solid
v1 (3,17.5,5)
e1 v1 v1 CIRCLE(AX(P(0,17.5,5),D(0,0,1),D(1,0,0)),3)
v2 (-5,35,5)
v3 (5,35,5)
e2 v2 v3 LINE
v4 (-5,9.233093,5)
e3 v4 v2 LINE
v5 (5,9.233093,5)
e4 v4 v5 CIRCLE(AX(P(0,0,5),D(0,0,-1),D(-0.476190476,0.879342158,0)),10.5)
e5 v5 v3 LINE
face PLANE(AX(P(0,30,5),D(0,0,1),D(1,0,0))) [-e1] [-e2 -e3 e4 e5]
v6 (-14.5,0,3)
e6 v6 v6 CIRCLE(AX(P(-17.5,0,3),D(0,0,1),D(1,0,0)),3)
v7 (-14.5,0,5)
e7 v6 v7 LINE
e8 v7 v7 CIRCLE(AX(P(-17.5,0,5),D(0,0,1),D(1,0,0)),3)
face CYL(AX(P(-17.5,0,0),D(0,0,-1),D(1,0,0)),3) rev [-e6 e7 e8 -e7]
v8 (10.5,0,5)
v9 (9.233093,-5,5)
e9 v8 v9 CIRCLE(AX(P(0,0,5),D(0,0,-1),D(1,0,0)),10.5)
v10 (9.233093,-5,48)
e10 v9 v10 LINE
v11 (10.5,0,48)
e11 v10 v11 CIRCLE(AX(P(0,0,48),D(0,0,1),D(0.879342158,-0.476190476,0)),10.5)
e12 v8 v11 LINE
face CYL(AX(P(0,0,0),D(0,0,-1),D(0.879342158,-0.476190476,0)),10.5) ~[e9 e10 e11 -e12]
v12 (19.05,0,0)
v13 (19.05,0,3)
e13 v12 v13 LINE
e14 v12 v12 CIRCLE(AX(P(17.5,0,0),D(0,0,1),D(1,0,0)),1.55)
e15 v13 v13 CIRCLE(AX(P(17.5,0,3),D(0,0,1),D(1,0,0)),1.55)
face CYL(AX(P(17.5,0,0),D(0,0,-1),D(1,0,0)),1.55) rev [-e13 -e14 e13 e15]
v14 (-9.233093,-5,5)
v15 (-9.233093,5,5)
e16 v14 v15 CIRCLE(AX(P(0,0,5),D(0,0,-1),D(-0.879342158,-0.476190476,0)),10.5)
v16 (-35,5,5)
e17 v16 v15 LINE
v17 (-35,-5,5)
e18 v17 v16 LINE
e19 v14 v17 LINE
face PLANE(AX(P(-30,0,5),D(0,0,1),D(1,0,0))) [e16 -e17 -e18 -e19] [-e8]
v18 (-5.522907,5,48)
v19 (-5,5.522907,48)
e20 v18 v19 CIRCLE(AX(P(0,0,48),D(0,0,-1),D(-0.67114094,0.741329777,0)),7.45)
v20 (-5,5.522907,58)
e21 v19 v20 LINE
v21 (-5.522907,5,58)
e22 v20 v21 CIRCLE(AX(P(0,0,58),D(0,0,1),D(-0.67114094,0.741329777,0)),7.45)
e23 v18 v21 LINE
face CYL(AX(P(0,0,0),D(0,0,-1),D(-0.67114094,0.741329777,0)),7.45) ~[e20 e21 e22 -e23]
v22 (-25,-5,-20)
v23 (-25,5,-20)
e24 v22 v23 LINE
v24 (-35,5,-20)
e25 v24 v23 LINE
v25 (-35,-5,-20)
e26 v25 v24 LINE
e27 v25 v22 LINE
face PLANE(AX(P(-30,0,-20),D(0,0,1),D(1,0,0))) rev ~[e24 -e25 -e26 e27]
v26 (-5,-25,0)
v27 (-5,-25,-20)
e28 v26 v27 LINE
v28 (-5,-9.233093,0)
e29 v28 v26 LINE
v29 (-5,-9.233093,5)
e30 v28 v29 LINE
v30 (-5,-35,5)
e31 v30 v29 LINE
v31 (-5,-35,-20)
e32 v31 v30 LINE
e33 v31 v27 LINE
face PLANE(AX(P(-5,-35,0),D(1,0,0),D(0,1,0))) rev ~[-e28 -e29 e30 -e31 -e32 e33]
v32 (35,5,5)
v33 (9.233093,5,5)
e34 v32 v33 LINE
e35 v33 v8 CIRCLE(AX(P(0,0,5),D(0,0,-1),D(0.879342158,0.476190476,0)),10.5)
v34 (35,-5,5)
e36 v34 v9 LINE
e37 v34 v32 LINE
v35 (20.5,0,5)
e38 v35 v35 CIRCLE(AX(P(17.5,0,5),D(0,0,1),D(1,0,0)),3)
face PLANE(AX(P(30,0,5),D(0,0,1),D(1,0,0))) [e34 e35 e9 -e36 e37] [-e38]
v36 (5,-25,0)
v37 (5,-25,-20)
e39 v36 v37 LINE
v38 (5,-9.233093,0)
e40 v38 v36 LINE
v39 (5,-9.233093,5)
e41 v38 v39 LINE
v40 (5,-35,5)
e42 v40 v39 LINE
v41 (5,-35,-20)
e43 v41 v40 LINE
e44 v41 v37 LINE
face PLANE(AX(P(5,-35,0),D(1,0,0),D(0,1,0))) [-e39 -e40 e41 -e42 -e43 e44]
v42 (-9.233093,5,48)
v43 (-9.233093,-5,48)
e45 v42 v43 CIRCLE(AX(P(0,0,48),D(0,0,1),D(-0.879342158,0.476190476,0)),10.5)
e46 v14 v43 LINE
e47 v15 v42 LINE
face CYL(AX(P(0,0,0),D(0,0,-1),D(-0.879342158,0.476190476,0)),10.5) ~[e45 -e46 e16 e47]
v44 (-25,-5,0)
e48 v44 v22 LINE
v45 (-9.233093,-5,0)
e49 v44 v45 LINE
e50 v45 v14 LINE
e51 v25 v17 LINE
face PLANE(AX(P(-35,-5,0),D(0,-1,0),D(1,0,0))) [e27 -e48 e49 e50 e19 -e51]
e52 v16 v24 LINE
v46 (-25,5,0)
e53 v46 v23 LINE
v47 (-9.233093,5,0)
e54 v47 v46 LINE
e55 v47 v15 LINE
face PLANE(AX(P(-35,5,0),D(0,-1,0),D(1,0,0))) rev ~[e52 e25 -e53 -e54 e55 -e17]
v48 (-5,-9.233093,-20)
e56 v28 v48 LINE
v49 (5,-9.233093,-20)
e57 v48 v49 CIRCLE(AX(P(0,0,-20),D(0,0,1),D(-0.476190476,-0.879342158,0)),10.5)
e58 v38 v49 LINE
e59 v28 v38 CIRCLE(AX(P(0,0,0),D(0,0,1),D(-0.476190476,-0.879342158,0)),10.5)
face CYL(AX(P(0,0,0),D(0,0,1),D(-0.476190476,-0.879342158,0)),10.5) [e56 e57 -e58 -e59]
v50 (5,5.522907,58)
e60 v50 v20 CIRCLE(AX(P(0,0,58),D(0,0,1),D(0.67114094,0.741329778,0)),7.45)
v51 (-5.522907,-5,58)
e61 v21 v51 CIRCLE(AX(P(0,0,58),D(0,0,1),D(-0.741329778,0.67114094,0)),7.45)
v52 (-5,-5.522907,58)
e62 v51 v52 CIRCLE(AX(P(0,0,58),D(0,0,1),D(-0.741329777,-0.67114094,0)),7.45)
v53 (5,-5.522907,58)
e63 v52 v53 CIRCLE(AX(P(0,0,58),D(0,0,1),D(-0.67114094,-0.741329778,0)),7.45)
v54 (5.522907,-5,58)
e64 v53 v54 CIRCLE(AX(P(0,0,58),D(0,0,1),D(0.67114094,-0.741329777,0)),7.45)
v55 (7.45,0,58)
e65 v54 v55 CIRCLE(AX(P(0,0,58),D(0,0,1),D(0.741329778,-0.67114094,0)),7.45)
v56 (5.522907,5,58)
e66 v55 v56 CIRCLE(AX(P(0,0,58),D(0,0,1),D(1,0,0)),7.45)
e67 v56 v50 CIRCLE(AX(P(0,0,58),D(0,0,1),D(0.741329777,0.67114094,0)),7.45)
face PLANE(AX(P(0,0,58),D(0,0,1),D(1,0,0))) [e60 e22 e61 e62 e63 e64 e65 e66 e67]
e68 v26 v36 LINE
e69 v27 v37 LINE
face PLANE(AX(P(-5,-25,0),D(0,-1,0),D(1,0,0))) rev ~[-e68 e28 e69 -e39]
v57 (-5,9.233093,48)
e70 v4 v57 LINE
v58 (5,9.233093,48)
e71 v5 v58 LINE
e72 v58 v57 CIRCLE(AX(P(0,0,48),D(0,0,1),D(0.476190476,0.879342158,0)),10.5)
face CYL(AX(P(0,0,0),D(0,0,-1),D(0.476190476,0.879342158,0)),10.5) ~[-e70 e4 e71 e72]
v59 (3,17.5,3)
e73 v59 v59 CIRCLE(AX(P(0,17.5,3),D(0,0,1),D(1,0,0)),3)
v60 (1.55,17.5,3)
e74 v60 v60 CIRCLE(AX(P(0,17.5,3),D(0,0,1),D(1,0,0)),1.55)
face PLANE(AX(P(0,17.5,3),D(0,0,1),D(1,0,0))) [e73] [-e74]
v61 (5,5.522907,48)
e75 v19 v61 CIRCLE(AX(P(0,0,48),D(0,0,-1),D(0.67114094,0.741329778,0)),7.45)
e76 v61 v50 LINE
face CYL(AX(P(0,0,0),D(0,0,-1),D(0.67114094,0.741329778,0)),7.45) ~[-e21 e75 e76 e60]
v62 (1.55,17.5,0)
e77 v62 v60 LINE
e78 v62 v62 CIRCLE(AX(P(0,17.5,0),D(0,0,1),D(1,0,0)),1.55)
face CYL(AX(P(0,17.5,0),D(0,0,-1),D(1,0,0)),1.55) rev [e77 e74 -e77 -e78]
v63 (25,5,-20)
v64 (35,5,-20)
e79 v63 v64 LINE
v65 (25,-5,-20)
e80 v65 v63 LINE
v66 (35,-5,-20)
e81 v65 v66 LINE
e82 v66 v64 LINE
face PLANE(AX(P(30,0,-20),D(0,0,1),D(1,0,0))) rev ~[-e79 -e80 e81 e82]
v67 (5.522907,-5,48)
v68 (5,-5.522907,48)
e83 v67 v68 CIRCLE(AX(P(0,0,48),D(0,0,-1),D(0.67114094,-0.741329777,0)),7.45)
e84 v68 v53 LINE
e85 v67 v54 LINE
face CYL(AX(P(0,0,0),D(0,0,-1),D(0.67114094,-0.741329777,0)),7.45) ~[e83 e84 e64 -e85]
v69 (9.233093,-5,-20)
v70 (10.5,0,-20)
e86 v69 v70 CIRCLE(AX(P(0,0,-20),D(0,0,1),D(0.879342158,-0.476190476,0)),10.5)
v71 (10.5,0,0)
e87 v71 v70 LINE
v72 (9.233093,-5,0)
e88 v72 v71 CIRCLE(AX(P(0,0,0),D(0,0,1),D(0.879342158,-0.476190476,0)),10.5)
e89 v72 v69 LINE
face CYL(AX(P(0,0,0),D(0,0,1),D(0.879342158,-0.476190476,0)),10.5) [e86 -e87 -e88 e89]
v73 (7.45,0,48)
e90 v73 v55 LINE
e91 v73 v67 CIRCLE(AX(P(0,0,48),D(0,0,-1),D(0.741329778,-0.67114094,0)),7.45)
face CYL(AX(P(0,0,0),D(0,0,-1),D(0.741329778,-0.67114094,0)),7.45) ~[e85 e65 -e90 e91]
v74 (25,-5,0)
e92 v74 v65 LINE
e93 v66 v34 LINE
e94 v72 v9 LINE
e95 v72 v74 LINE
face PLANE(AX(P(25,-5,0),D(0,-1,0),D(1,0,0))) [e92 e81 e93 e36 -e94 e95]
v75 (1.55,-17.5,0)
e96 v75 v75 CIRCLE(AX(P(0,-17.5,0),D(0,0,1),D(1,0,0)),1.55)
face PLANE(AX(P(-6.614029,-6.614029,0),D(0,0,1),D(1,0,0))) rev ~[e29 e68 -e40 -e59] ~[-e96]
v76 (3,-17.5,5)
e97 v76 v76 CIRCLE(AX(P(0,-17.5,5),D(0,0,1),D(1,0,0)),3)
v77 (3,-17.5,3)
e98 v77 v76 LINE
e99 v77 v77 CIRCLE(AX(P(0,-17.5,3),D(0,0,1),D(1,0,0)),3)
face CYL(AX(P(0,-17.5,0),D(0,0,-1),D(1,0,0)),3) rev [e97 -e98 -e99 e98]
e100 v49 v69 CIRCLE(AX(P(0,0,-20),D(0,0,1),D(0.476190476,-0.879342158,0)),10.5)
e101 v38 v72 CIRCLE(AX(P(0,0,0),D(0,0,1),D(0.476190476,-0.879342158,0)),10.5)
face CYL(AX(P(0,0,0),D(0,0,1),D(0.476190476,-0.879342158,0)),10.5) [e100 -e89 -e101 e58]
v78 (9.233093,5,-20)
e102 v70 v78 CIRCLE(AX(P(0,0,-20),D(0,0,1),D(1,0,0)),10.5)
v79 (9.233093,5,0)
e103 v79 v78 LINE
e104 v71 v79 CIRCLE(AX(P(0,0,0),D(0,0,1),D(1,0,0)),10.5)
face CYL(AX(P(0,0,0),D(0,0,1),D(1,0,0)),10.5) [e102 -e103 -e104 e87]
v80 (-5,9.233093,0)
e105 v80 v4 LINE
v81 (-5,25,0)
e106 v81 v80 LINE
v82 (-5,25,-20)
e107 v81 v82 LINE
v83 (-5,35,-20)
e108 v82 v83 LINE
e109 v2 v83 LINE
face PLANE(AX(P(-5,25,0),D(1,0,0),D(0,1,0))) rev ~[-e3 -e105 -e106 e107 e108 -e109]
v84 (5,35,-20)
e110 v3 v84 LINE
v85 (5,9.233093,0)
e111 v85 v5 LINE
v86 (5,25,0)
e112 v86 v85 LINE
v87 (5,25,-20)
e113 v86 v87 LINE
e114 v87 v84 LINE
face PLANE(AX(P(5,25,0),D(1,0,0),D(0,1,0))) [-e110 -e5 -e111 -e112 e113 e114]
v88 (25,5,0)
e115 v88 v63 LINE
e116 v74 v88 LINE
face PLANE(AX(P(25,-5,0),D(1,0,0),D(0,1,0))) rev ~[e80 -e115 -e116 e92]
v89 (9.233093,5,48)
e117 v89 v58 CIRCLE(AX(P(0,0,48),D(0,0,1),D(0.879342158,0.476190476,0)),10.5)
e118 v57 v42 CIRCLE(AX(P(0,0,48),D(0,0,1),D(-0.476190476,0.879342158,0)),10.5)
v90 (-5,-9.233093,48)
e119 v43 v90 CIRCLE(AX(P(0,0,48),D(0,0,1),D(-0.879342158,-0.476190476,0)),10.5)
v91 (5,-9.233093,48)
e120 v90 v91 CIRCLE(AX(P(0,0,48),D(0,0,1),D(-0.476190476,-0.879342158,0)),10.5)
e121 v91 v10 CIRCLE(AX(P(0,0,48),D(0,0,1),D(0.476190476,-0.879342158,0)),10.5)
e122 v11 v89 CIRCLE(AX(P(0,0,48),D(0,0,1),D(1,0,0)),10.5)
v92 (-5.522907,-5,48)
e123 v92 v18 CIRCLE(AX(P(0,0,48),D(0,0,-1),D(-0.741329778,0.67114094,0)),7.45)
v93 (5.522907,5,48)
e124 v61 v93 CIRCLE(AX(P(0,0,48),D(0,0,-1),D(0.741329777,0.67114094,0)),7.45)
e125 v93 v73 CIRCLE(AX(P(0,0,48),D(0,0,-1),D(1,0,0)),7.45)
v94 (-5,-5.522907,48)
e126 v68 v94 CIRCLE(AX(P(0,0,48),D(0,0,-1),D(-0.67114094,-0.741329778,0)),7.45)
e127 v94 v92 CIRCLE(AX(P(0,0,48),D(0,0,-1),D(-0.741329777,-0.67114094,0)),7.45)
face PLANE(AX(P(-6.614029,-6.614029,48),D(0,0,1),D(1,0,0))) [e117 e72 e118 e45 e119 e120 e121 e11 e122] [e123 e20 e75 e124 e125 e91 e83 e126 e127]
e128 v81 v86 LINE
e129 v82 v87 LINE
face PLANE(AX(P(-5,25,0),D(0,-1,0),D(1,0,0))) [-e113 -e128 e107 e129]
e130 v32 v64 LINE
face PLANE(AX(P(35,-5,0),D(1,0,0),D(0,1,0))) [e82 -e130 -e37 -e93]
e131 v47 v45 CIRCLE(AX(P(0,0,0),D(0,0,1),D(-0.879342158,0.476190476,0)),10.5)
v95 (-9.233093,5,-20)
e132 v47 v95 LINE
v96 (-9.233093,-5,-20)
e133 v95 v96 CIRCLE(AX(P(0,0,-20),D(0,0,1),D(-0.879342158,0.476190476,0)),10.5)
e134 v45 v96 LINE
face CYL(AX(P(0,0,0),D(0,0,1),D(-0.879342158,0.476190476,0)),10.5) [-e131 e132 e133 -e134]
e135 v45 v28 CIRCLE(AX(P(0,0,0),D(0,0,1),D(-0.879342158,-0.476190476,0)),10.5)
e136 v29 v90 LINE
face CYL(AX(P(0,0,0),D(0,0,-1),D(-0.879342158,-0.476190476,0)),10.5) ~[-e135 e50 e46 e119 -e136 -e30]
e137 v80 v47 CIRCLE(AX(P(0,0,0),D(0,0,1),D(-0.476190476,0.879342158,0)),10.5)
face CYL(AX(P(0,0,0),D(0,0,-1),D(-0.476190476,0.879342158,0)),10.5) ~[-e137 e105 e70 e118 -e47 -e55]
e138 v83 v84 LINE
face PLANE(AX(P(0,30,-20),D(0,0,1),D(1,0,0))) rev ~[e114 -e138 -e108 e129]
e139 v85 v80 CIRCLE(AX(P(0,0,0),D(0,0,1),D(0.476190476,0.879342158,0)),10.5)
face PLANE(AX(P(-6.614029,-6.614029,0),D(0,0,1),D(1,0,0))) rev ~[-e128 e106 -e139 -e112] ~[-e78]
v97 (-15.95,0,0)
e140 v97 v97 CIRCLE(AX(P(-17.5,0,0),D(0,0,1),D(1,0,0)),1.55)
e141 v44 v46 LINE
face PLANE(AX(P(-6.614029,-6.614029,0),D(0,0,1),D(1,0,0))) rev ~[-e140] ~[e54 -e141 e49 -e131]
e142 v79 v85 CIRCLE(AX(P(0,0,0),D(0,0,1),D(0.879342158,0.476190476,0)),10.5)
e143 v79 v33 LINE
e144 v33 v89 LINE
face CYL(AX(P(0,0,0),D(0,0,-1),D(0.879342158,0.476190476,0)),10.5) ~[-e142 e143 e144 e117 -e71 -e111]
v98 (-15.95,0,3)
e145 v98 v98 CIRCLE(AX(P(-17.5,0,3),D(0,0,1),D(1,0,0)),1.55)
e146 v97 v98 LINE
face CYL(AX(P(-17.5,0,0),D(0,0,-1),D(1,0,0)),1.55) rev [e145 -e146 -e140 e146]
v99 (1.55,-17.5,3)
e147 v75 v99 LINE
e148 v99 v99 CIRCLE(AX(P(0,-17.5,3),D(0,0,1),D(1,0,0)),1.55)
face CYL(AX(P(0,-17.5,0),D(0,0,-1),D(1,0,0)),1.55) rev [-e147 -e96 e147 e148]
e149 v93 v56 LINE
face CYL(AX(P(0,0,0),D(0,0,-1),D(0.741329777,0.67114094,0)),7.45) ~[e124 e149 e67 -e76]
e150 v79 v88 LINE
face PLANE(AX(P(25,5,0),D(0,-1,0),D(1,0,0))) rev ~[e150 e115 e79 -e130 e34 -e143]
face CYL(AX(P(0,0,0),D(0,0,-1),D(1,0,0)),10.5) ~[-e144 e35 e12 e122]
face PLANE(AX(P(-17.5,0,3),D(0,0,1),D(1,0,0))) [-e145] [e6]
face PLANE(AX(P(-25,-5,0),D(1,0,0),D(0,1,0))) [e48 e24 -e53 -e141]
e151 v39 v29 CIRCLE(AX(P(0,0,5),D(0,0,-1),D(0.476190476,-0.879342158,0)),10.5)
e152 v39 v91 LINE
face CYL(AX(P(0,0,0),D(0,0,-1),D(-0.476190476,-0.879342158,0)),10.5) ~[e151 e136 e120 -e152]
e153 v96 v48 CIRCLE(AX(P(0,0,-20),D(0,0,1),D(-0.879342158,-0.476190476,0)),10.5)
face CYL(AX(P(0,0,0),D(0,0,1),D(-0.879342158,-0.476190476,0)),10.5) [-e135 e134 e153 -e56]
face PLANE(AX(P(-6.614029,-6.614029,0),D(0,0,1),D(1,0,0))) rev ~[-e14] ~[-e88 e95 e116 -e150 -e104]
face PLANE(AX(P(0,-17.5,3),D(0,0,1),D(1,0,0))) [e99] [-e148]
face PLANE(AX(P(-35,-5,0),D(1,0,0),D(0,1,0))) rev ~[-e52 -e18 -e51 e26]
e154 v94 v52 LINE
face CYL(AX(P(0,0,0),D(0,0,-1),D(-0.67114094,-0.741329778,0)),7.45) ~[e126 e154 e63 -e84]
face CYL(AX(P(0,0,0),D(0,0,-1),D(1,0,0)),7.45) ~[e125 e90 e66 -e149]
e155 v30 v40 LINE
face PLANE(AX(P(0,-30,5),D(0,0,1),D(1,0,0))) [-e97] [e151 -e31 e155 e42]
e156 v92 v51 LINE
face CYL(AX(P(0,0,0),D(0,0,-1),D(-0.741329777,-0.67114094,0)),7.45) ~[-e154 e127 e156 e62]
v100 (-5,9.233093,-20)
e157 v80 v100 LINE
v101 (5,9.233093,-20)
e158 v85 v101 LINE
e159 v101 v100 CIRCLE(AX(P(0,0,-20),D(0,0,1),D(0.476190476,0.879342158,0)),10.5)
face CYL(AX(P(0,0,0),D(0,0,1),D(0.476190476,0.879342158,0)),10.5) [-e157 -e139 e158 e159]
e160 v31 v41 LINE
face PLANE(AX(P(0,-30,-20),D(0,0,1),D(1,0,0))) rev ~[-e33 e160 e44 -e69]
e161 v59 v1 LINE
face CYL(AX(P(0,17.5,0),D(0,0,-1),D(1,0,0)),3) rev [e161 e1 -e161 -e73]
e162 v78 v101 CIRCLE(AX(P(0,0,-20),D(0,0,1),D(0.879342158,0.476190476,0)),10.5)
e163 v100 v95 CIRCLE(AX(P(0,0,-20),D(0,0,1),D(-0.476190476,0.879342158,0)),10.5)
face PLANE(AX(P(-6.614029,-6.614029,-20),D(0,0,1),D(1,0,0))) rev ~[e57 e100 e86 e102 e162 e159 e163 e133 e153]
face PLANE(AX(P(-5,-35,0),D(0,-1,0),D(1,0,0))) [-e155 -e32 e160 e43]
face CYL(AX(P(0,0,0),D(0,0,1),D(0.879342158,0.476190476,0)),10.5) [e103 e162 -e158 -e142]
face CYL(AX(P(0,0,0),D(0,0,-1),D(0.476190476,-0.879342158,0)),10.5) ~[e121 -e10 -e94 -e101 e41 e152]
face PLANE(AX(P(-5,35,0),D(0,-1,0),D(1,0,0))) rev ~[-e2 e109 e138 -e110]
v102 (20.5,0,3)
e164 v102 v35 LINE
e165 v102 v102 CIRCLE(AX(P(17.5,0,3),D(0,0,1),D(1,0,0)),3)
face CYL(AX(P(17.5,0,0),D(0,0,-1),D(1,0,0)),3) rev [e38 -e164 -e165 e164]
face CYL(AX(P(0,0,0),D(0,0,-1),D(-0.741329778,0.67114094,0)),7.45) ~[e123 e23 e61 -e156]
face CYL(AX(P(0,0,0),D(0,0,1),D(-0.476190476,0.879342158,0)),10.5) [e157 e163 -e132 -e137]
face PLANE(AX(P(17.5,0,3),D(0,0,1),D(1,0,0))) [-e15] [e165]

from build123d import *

# Parameters (mm, degrees)
F0_R          = 3
F1_DEPTH      = 5
F0_R_2        = 1.55
F2_DEPTH      = 3
F0_W          = 10
F0_H          = 10
F3_DEPTH      = 5
F3_DEPTH_BACK = 20
F4_DEPTH      = 48
F4_DEPTH_BACK = 20
F5_DEPTH      = 58


with BuildPart() as f1:
    # F0 (on Top) → F1 (new body)
    with BuildSketch(Plane.XY):
        with BuildLine():
            ThreePointArc((-9.2330926563, -5), (-10.5, 0), (-9.2330926563, 5))
            Line((-9.2330926563, 5), (-25, 5))
            Line((-25, 5), (-25, -5))
            Line((-25, -5), (-9.2330926563, -5))
        make_face()
        with Locations((-17.5, 0)):
            Circle(F0_R, mode=Mode.SUBTRACT)
    extrude(amount=F1_DEPTH)

    # F0 (on Top) → F2, piece 4 (join)
    with BuildSketch(Plane.XY):
        with Locations((-17.5, 0)):
            Circle(F0_R)
        with Locations((-17.5, 0)):
            Circle(F0_R_2, mode=Mode.SUBTRACT)
    extrude(amount=F2_DEPTH)

    # F0 (on Top) → F3, piece 4 (join, two sides)
    with BuildSketch(Plane.XY) as f3_4_sk:
        with Locations((-30, 0)):
            Rectangle(F0_W, F0_H)
    extrude(amount=F3_DEPTH)
    extrude(f3_4_sk.sketch, amount=-F3_DEPTH_BACK)



with BuildPart() as f1b:
    # F0 (on Top) → F1, piece 2 (new body)
    with BuildSketch(Plane.XY):
        with BuildLine():
            ThreePointArc((-5, 9.2330926563), (0, 10.5), (5, 9.2330926563))
            Line((5, 9.2330926563), (5, 25))
            Line((5, 25), (-5, 25))
            Line((-5, 25), (-5, 9.2330926563))
        make_face()
        with Locations((0, 17.5)):
            Circle(F0_R, mode=Mode.SUBTRACT)
    extrude(amount=F1_DEPTH)

    # F0 (on Top) → F2 (join)
    with BuildSketch(Plane.XY):
        with Locations((0, 17.5)):
            Circle(F0_R)
        with Locations((0, 17.5)):
            Circle(F0_R_2, mode=Mode.SUBTRACT)
    extrude(amount=F2_DEPTH)

    # F0 (on Top) → F3 (join, two sides)
    with BuildSketch(Plane.XY) as f3_sk:
        with Locations((0, 30)):
            Rectangle(F0_W, F0_H)
    extrude(amount=F3_DEPTH)
    extrude(f3_sk.sketch, amount=-F3_DEPTH_BACK)


with BuildPart() as f1c:
    # F0 (on Top) → F1, piece 3 (new body)
    with BuildSketch(Plane.XY):
        with BuildLine():
            Line((25, 5), (9.2330926563, 5))
            ThreePointArc((9.2330926563, 5), (10.1783464495, 2.5790043727), (10.5, 0))
            ThreePointArc((10.5, 0), (10.1783464495, -2.5790043727), (9.2330926563, -5))
            Line((9.2330926563, -5), (25, -5))
            Line((25, -5), (25, 5))
        make_face()
        with Locations((17.5, 0)):
            Circle(F0_R, mode=Mode.SUBTRACT)
    extrude(amount=F1_DEPTH)

    # F0 (on Top) → F2, piece 2 (join)
    with BuildSketch(Plane.XY):
        with Locations((17.5, 0)):
            Circle(F0_R)
        with Locations((17.5, 0)):
            Circle(F0_R_2, mode=Mode.SUBTRACT)
    extrude(amount=F2_DEPTH)

    # F0 (on Top) → F3, piece 2 (join, two sides)
    with BuildSketch(Plane.XY) as f3_2_sk:
        with Locations((30, 0)):
            Rectangle(F0_W, F0_H)
    extrude(amount=F3_DEPTH)
    extrude(f3_2_sk.sketch, amount=-F3_DEPTH_BACK)


with BuildPart() as f1d:
    # F0 (on Top) → F1, piece 4 (new body)
    with BuildSketch(Plane.XY):
        with BuildLine():
            Line((5, -25), (5, -9.2330926563))
            ThreePointArc((5, -9.2330926563), (0, -10.5), (-5, -9.2330926563))
            Line((-5, -9.2330926563), (-5, -25))
            Line((-5, -25), (5, -25))
        make_face()
        with Locations((0, -17.5)):
            Circle(F0_R, mode=Mode.SUBTRACT)
    extrude(amount=F1_DEPTH)

    # F0 (on Top) → F2, piece 3 (join)
    with BuildSketch(Plane.XY):
        with Locations((0, -17.5)):
            Circle(F0_R)
        with Locations((0, -17.5)):
            Circle(F0_R_2, mode=Mode.SUBTRACT)
    extrude(amount=F2_DEPTH)

    # F0 (on Top) → F3, piece 3 (join, two sides)
    with BuildSketch(Plane.XY) as f3_3_sk:
        with Locations((0, -30)):
            Rectangle(F0_W, F0_H)
    extrude(amount=F3_DEPTH)
    extrude(f3_3_sk.sketch, amount=-F3_DEPTH_BACK)


with BuildPart() as f1_1:
    add(f1.part)

    add(f1b.part)  # F4 merges F1b

    add(f1c.part)  # F4 merges F1c

    add(f1d.part)  # F4 merges F1d
    # F0 (on Top) → F4 (join, two sides)
    with BuildSketch(Plane.XY) as f4_sk:
        with BuildLine():
            Line((-5, -9.2330926563), (-5, -5.5229068433))
            ThreePointArc((-5, -5.5229068433), (-5.2679455198, -5.2679455198), (-5.5229068433, -5))
            Line((-5.5229068433, -5), (-9.2330926563, -5))
            ThreePointArc((-9.2330926563, -5), (-7.4246212025, -7.4246212025), (-5, -9.2330926563))
        make_face()
        with BuildLine():
            ThreePointArc((-5.5229068433, -5), (-7.45, 0), (-5.5229068433, 5))
            Line((-5.5229068433, 5), (-9.2330926563, 5))
            ThreePointArc((-9.2330926563, 5), (-10.5, 0), (-9.2330926563, -5))
            Line((-9.2330926563, -5), (-5.5229068433, -5))
        make_face()
        with BuildLine():
            Line((-5, -5), (-5, 5))
            Line((-5, 5), (-5.5229068433, 5))
            ThreePointArc((-5.5229068433, 5), (-7.45, 0), (-5.5229068433, -5))
            Line((-5.5229068433, -5), (-5, -5))
        make_face()
        with BuildLine():
            ThreePointArc((-5.5229068433, -5), (-5.2679455198, -5.2679455198), (-5, -5.5229068433))
            Line((-5, -5.5229068433), (-5, -5))
            Line((-5, -5), (-5.5229068433, -5))
        make_face()
        with BuildLine():
            ThreePointArc((-5, -5.5229068433), (0, -7.45), (5, -5.5229068433))
            Line((5, -5.5229068433), (5, -5))
            Line((5, -5), (-5, -5))
            Line((-5, -5), (-5, -5.5229068433))
        make_face()
        with BuildLine():
            Line((5, -9.2330926563), (5, -5.5229068433))
            ThreePointArc((5, -5.5229068433), (0, -7.45), (-5, -5.5229068433))
            Line((-5, -5.5229068433), (-5, -9.2330926563))
            ThreePointArc((-5, -9.2330926563), (0, -10.5), (5, -9.2330926563))
        make_face()
        Rectangle(F0_W, F0_H)
        with BuildLine():
            ThreePointArc((5.5229068433, -5), (6.9515522001, -2.6792577346), (7.45, 0))
            ThreePointArc((7.45, 0), (6.9515522001, 2.6792577346), (5.5229068433, 5))
            Line((5.5229068433, 5), (5, 5))
            Line((5, 5), (5, -5))
            Line((5, -5), (5.5229068433, -5))
        make_face()
        with BuildLine():
            Line((9.2330926563, -5), (5.5229068433, -5))
            ThreePointArc((5.5229068433, -5), (5.2679455198, -5.2679455198), (5, -5.5229068433))
            Line((5, -5.5229068433), (5, -9.2330926563))
            ThreePointArc((5, -9.2330926563), (7.4246212025, -7.4246212025), (9.2330926563, -5))
        make_face()
        with BuildLine():
            ThreePointArc((5, -5.5229068433), (5.2679455198, -5.2679455198), (5.5229068433, -5))
            Line((5.5229068433, -5), (5, -5))
            Line((5, -5), (5, -5.5229068433))
        make_face()
        with BuildLine():
            ThreePointArc((5.5229068433, 5), (6.9515522001, 2.6792577346), (7.45, 0))
            ThreePointArc((7.45, 0), (6.9515522001, -2.6792577346), (5.5229068433, -5))
            Line((5.5229068433, -5), (9.2330926563, -5))
            ThreePointArc((9.2330926563, -5), (10.1783464495, -2.5790043727), (10.5, 0))
            ThreePointArc((10.5, 0), (10.1783464495, 2.5790043727), (9.2330926563, 5))
            Line((9.2330926563, 5), (5.5229068433, 5))
        make_face()
        with BuildLine():
            Line((5, 5), (5.5229068433, 5))
            ThreePointArc((5.5229068433, 5), (5.2679455198, 5.2679455198), (5, 5.5229068433))
            Line((5, 5.5229068433), (5, 5))
        make_face()
        with BuildLine():
            ThreePointArc((5, 5.5229068433), (5.2679455198, 5.2679455198), (5.5229068433, 5))
            Line((5.5229068433, 5), (9.2330926563, 5))
            ThreePointArc((9.2330926563, 5), (7.4246212025, 7.4246212025), (5, 9.2330926563))
            Line((5, 9.2330926563), (5, 5.5229068433))
        make_face()
        with BuildLine():
            Line((5, 5), (5, 5.5229068433))
            ThreePointArc((5, 5.5229068433), (0, 7.45), (-5, 5.5229068433))
            Line((-5, 5.5229068433), (-5, 5))
            Line((-5, 5), (5, 5))
        make_face()
        with BuildLine():
            ThreePointArc((-5, 5.5229068433), (0, 7.45), (5, 5.5229068433))
            Line((5, 5.5229068433), (5, 9.2330926563))
            ThreePointArc((5, 9.2330926563), (0, 10.5), (-5, 9.2330926563))
            Line((-5, 9.2330926563), (-5, 5.5229068433))
        make_face()
        with BuildLine():
            ThreePointArc((-5.5229068433, 5), (-5.2679455198, 5.2679455198), (-5, 5.5229068433))
            Line((-5, 5.5229068433), (-5, 9.2330926563))
            ThreePointArc((-5, 9.2330926563), (-7.4246212025, 7.4246212025), (-9.2330926563, 5))
            Line((-9.2330926563, 5), (-5.5229068433, 5))
        make_face()
        with BuildLine():
            Line((-5, 5), (-5, 5.5229068433))
            ThreePointArc((-5, 5.5229068433), (-5.2679455198, 5.2679455198), (-5.5229068433, 5))
            Line((-5.5229068433, 5), (-5, 5))
        make_face()
    extrude(amount=F4_DEPTH)
    extrude(f4_sk.sketch, amount=-F4_DEPTH_BACK)

    # F0 (on Top) → F5 (join)
    with BuildSketch(Plane.XY):
        Rectangle(F0_W, F0_H)
        with BuildLine():
            Line((-5, -5), (-5, 5))
            Line((-5, 5), (-5.5229068433, 5))
            ThreePointArc((-5.5229068433, 5), (-7.45, 0), (-5.5229068433, -5))
            Line((-5.5229068433, -5), (-5, -5))
        make_face()
        with BuildLine():
            Line((5, 5), (5, 5.5229068433))
            ThreePointArc((5, 5.5229068433), (0, 7.45), (-5, 5.5229068433))
            Line((-5, 5.5229068433), (-5, 5))
            Line((-5, 5), (5, 5))
        make_face()
        with BuildLine():
            ThreePointArc((5.5229068433, -5), (6.9515522001, -2.6792577346), (7.45, 0))
            ThreePointArc((7.45, 0), (6.9515522001, 2.6792577346), (5.5229068433, 5))
            Line((5.5229068433, 5), (5, 5))
            Line((5, 5), (5, -5))
            Line((5, -5), (5.5229068433, -5))
        make_face()
        with BuildLine():
            ThreePointArc((-5, -5.5229068433), (0, -7.45), (5, -5.5229068433))
            Line((5, -5.5229068433), (5, -5))
            Line((5, -5), (-5, -5))
            Line((-5, -5), (-5, -5.5229068433))
        make_face()
        with BuildLine():
            ThreePointArc((-5.5229068433, -5), (-5.2679455198, -5.2679455198), (-5, -5.5229068433))
            Line((-5, -5.5229068433), (-5, -5))
            Line((-5, -5), (-5.5229068433, -5))
        make_face()
        with BuildLine():
            ThreePointArc((5, -5.5229068433), (5.2679455198, -5.2679455198), (5.5229068433, -5))
            Line((5.5229068433, -5), (5, -5))
            Line((5, -5), (5, -5.5229068433))
        make_face()
        with BuildLine():
            Line((5, 5), (5.5229068433, 5))
            ThreePointArc((5.5229068433, 5), (5.2679455198, 5.2679455198), (5, 5.5229068433))
            Line((5, 5.5229068433), (5, 5))
        make_face()
        with BuildLine():
            Line((-5, 5), (-5, 5.5229068433))
            ThreePointArc((-5, 5.5229068433), (-5.2679455198, 5.2679455198), (-5.5229068433, 5))
            Line((-5.5229068433, 5), (-5, 5))
        make_face()
    extrude(amount=F5_DEPTH)


solid = f1_1.part
